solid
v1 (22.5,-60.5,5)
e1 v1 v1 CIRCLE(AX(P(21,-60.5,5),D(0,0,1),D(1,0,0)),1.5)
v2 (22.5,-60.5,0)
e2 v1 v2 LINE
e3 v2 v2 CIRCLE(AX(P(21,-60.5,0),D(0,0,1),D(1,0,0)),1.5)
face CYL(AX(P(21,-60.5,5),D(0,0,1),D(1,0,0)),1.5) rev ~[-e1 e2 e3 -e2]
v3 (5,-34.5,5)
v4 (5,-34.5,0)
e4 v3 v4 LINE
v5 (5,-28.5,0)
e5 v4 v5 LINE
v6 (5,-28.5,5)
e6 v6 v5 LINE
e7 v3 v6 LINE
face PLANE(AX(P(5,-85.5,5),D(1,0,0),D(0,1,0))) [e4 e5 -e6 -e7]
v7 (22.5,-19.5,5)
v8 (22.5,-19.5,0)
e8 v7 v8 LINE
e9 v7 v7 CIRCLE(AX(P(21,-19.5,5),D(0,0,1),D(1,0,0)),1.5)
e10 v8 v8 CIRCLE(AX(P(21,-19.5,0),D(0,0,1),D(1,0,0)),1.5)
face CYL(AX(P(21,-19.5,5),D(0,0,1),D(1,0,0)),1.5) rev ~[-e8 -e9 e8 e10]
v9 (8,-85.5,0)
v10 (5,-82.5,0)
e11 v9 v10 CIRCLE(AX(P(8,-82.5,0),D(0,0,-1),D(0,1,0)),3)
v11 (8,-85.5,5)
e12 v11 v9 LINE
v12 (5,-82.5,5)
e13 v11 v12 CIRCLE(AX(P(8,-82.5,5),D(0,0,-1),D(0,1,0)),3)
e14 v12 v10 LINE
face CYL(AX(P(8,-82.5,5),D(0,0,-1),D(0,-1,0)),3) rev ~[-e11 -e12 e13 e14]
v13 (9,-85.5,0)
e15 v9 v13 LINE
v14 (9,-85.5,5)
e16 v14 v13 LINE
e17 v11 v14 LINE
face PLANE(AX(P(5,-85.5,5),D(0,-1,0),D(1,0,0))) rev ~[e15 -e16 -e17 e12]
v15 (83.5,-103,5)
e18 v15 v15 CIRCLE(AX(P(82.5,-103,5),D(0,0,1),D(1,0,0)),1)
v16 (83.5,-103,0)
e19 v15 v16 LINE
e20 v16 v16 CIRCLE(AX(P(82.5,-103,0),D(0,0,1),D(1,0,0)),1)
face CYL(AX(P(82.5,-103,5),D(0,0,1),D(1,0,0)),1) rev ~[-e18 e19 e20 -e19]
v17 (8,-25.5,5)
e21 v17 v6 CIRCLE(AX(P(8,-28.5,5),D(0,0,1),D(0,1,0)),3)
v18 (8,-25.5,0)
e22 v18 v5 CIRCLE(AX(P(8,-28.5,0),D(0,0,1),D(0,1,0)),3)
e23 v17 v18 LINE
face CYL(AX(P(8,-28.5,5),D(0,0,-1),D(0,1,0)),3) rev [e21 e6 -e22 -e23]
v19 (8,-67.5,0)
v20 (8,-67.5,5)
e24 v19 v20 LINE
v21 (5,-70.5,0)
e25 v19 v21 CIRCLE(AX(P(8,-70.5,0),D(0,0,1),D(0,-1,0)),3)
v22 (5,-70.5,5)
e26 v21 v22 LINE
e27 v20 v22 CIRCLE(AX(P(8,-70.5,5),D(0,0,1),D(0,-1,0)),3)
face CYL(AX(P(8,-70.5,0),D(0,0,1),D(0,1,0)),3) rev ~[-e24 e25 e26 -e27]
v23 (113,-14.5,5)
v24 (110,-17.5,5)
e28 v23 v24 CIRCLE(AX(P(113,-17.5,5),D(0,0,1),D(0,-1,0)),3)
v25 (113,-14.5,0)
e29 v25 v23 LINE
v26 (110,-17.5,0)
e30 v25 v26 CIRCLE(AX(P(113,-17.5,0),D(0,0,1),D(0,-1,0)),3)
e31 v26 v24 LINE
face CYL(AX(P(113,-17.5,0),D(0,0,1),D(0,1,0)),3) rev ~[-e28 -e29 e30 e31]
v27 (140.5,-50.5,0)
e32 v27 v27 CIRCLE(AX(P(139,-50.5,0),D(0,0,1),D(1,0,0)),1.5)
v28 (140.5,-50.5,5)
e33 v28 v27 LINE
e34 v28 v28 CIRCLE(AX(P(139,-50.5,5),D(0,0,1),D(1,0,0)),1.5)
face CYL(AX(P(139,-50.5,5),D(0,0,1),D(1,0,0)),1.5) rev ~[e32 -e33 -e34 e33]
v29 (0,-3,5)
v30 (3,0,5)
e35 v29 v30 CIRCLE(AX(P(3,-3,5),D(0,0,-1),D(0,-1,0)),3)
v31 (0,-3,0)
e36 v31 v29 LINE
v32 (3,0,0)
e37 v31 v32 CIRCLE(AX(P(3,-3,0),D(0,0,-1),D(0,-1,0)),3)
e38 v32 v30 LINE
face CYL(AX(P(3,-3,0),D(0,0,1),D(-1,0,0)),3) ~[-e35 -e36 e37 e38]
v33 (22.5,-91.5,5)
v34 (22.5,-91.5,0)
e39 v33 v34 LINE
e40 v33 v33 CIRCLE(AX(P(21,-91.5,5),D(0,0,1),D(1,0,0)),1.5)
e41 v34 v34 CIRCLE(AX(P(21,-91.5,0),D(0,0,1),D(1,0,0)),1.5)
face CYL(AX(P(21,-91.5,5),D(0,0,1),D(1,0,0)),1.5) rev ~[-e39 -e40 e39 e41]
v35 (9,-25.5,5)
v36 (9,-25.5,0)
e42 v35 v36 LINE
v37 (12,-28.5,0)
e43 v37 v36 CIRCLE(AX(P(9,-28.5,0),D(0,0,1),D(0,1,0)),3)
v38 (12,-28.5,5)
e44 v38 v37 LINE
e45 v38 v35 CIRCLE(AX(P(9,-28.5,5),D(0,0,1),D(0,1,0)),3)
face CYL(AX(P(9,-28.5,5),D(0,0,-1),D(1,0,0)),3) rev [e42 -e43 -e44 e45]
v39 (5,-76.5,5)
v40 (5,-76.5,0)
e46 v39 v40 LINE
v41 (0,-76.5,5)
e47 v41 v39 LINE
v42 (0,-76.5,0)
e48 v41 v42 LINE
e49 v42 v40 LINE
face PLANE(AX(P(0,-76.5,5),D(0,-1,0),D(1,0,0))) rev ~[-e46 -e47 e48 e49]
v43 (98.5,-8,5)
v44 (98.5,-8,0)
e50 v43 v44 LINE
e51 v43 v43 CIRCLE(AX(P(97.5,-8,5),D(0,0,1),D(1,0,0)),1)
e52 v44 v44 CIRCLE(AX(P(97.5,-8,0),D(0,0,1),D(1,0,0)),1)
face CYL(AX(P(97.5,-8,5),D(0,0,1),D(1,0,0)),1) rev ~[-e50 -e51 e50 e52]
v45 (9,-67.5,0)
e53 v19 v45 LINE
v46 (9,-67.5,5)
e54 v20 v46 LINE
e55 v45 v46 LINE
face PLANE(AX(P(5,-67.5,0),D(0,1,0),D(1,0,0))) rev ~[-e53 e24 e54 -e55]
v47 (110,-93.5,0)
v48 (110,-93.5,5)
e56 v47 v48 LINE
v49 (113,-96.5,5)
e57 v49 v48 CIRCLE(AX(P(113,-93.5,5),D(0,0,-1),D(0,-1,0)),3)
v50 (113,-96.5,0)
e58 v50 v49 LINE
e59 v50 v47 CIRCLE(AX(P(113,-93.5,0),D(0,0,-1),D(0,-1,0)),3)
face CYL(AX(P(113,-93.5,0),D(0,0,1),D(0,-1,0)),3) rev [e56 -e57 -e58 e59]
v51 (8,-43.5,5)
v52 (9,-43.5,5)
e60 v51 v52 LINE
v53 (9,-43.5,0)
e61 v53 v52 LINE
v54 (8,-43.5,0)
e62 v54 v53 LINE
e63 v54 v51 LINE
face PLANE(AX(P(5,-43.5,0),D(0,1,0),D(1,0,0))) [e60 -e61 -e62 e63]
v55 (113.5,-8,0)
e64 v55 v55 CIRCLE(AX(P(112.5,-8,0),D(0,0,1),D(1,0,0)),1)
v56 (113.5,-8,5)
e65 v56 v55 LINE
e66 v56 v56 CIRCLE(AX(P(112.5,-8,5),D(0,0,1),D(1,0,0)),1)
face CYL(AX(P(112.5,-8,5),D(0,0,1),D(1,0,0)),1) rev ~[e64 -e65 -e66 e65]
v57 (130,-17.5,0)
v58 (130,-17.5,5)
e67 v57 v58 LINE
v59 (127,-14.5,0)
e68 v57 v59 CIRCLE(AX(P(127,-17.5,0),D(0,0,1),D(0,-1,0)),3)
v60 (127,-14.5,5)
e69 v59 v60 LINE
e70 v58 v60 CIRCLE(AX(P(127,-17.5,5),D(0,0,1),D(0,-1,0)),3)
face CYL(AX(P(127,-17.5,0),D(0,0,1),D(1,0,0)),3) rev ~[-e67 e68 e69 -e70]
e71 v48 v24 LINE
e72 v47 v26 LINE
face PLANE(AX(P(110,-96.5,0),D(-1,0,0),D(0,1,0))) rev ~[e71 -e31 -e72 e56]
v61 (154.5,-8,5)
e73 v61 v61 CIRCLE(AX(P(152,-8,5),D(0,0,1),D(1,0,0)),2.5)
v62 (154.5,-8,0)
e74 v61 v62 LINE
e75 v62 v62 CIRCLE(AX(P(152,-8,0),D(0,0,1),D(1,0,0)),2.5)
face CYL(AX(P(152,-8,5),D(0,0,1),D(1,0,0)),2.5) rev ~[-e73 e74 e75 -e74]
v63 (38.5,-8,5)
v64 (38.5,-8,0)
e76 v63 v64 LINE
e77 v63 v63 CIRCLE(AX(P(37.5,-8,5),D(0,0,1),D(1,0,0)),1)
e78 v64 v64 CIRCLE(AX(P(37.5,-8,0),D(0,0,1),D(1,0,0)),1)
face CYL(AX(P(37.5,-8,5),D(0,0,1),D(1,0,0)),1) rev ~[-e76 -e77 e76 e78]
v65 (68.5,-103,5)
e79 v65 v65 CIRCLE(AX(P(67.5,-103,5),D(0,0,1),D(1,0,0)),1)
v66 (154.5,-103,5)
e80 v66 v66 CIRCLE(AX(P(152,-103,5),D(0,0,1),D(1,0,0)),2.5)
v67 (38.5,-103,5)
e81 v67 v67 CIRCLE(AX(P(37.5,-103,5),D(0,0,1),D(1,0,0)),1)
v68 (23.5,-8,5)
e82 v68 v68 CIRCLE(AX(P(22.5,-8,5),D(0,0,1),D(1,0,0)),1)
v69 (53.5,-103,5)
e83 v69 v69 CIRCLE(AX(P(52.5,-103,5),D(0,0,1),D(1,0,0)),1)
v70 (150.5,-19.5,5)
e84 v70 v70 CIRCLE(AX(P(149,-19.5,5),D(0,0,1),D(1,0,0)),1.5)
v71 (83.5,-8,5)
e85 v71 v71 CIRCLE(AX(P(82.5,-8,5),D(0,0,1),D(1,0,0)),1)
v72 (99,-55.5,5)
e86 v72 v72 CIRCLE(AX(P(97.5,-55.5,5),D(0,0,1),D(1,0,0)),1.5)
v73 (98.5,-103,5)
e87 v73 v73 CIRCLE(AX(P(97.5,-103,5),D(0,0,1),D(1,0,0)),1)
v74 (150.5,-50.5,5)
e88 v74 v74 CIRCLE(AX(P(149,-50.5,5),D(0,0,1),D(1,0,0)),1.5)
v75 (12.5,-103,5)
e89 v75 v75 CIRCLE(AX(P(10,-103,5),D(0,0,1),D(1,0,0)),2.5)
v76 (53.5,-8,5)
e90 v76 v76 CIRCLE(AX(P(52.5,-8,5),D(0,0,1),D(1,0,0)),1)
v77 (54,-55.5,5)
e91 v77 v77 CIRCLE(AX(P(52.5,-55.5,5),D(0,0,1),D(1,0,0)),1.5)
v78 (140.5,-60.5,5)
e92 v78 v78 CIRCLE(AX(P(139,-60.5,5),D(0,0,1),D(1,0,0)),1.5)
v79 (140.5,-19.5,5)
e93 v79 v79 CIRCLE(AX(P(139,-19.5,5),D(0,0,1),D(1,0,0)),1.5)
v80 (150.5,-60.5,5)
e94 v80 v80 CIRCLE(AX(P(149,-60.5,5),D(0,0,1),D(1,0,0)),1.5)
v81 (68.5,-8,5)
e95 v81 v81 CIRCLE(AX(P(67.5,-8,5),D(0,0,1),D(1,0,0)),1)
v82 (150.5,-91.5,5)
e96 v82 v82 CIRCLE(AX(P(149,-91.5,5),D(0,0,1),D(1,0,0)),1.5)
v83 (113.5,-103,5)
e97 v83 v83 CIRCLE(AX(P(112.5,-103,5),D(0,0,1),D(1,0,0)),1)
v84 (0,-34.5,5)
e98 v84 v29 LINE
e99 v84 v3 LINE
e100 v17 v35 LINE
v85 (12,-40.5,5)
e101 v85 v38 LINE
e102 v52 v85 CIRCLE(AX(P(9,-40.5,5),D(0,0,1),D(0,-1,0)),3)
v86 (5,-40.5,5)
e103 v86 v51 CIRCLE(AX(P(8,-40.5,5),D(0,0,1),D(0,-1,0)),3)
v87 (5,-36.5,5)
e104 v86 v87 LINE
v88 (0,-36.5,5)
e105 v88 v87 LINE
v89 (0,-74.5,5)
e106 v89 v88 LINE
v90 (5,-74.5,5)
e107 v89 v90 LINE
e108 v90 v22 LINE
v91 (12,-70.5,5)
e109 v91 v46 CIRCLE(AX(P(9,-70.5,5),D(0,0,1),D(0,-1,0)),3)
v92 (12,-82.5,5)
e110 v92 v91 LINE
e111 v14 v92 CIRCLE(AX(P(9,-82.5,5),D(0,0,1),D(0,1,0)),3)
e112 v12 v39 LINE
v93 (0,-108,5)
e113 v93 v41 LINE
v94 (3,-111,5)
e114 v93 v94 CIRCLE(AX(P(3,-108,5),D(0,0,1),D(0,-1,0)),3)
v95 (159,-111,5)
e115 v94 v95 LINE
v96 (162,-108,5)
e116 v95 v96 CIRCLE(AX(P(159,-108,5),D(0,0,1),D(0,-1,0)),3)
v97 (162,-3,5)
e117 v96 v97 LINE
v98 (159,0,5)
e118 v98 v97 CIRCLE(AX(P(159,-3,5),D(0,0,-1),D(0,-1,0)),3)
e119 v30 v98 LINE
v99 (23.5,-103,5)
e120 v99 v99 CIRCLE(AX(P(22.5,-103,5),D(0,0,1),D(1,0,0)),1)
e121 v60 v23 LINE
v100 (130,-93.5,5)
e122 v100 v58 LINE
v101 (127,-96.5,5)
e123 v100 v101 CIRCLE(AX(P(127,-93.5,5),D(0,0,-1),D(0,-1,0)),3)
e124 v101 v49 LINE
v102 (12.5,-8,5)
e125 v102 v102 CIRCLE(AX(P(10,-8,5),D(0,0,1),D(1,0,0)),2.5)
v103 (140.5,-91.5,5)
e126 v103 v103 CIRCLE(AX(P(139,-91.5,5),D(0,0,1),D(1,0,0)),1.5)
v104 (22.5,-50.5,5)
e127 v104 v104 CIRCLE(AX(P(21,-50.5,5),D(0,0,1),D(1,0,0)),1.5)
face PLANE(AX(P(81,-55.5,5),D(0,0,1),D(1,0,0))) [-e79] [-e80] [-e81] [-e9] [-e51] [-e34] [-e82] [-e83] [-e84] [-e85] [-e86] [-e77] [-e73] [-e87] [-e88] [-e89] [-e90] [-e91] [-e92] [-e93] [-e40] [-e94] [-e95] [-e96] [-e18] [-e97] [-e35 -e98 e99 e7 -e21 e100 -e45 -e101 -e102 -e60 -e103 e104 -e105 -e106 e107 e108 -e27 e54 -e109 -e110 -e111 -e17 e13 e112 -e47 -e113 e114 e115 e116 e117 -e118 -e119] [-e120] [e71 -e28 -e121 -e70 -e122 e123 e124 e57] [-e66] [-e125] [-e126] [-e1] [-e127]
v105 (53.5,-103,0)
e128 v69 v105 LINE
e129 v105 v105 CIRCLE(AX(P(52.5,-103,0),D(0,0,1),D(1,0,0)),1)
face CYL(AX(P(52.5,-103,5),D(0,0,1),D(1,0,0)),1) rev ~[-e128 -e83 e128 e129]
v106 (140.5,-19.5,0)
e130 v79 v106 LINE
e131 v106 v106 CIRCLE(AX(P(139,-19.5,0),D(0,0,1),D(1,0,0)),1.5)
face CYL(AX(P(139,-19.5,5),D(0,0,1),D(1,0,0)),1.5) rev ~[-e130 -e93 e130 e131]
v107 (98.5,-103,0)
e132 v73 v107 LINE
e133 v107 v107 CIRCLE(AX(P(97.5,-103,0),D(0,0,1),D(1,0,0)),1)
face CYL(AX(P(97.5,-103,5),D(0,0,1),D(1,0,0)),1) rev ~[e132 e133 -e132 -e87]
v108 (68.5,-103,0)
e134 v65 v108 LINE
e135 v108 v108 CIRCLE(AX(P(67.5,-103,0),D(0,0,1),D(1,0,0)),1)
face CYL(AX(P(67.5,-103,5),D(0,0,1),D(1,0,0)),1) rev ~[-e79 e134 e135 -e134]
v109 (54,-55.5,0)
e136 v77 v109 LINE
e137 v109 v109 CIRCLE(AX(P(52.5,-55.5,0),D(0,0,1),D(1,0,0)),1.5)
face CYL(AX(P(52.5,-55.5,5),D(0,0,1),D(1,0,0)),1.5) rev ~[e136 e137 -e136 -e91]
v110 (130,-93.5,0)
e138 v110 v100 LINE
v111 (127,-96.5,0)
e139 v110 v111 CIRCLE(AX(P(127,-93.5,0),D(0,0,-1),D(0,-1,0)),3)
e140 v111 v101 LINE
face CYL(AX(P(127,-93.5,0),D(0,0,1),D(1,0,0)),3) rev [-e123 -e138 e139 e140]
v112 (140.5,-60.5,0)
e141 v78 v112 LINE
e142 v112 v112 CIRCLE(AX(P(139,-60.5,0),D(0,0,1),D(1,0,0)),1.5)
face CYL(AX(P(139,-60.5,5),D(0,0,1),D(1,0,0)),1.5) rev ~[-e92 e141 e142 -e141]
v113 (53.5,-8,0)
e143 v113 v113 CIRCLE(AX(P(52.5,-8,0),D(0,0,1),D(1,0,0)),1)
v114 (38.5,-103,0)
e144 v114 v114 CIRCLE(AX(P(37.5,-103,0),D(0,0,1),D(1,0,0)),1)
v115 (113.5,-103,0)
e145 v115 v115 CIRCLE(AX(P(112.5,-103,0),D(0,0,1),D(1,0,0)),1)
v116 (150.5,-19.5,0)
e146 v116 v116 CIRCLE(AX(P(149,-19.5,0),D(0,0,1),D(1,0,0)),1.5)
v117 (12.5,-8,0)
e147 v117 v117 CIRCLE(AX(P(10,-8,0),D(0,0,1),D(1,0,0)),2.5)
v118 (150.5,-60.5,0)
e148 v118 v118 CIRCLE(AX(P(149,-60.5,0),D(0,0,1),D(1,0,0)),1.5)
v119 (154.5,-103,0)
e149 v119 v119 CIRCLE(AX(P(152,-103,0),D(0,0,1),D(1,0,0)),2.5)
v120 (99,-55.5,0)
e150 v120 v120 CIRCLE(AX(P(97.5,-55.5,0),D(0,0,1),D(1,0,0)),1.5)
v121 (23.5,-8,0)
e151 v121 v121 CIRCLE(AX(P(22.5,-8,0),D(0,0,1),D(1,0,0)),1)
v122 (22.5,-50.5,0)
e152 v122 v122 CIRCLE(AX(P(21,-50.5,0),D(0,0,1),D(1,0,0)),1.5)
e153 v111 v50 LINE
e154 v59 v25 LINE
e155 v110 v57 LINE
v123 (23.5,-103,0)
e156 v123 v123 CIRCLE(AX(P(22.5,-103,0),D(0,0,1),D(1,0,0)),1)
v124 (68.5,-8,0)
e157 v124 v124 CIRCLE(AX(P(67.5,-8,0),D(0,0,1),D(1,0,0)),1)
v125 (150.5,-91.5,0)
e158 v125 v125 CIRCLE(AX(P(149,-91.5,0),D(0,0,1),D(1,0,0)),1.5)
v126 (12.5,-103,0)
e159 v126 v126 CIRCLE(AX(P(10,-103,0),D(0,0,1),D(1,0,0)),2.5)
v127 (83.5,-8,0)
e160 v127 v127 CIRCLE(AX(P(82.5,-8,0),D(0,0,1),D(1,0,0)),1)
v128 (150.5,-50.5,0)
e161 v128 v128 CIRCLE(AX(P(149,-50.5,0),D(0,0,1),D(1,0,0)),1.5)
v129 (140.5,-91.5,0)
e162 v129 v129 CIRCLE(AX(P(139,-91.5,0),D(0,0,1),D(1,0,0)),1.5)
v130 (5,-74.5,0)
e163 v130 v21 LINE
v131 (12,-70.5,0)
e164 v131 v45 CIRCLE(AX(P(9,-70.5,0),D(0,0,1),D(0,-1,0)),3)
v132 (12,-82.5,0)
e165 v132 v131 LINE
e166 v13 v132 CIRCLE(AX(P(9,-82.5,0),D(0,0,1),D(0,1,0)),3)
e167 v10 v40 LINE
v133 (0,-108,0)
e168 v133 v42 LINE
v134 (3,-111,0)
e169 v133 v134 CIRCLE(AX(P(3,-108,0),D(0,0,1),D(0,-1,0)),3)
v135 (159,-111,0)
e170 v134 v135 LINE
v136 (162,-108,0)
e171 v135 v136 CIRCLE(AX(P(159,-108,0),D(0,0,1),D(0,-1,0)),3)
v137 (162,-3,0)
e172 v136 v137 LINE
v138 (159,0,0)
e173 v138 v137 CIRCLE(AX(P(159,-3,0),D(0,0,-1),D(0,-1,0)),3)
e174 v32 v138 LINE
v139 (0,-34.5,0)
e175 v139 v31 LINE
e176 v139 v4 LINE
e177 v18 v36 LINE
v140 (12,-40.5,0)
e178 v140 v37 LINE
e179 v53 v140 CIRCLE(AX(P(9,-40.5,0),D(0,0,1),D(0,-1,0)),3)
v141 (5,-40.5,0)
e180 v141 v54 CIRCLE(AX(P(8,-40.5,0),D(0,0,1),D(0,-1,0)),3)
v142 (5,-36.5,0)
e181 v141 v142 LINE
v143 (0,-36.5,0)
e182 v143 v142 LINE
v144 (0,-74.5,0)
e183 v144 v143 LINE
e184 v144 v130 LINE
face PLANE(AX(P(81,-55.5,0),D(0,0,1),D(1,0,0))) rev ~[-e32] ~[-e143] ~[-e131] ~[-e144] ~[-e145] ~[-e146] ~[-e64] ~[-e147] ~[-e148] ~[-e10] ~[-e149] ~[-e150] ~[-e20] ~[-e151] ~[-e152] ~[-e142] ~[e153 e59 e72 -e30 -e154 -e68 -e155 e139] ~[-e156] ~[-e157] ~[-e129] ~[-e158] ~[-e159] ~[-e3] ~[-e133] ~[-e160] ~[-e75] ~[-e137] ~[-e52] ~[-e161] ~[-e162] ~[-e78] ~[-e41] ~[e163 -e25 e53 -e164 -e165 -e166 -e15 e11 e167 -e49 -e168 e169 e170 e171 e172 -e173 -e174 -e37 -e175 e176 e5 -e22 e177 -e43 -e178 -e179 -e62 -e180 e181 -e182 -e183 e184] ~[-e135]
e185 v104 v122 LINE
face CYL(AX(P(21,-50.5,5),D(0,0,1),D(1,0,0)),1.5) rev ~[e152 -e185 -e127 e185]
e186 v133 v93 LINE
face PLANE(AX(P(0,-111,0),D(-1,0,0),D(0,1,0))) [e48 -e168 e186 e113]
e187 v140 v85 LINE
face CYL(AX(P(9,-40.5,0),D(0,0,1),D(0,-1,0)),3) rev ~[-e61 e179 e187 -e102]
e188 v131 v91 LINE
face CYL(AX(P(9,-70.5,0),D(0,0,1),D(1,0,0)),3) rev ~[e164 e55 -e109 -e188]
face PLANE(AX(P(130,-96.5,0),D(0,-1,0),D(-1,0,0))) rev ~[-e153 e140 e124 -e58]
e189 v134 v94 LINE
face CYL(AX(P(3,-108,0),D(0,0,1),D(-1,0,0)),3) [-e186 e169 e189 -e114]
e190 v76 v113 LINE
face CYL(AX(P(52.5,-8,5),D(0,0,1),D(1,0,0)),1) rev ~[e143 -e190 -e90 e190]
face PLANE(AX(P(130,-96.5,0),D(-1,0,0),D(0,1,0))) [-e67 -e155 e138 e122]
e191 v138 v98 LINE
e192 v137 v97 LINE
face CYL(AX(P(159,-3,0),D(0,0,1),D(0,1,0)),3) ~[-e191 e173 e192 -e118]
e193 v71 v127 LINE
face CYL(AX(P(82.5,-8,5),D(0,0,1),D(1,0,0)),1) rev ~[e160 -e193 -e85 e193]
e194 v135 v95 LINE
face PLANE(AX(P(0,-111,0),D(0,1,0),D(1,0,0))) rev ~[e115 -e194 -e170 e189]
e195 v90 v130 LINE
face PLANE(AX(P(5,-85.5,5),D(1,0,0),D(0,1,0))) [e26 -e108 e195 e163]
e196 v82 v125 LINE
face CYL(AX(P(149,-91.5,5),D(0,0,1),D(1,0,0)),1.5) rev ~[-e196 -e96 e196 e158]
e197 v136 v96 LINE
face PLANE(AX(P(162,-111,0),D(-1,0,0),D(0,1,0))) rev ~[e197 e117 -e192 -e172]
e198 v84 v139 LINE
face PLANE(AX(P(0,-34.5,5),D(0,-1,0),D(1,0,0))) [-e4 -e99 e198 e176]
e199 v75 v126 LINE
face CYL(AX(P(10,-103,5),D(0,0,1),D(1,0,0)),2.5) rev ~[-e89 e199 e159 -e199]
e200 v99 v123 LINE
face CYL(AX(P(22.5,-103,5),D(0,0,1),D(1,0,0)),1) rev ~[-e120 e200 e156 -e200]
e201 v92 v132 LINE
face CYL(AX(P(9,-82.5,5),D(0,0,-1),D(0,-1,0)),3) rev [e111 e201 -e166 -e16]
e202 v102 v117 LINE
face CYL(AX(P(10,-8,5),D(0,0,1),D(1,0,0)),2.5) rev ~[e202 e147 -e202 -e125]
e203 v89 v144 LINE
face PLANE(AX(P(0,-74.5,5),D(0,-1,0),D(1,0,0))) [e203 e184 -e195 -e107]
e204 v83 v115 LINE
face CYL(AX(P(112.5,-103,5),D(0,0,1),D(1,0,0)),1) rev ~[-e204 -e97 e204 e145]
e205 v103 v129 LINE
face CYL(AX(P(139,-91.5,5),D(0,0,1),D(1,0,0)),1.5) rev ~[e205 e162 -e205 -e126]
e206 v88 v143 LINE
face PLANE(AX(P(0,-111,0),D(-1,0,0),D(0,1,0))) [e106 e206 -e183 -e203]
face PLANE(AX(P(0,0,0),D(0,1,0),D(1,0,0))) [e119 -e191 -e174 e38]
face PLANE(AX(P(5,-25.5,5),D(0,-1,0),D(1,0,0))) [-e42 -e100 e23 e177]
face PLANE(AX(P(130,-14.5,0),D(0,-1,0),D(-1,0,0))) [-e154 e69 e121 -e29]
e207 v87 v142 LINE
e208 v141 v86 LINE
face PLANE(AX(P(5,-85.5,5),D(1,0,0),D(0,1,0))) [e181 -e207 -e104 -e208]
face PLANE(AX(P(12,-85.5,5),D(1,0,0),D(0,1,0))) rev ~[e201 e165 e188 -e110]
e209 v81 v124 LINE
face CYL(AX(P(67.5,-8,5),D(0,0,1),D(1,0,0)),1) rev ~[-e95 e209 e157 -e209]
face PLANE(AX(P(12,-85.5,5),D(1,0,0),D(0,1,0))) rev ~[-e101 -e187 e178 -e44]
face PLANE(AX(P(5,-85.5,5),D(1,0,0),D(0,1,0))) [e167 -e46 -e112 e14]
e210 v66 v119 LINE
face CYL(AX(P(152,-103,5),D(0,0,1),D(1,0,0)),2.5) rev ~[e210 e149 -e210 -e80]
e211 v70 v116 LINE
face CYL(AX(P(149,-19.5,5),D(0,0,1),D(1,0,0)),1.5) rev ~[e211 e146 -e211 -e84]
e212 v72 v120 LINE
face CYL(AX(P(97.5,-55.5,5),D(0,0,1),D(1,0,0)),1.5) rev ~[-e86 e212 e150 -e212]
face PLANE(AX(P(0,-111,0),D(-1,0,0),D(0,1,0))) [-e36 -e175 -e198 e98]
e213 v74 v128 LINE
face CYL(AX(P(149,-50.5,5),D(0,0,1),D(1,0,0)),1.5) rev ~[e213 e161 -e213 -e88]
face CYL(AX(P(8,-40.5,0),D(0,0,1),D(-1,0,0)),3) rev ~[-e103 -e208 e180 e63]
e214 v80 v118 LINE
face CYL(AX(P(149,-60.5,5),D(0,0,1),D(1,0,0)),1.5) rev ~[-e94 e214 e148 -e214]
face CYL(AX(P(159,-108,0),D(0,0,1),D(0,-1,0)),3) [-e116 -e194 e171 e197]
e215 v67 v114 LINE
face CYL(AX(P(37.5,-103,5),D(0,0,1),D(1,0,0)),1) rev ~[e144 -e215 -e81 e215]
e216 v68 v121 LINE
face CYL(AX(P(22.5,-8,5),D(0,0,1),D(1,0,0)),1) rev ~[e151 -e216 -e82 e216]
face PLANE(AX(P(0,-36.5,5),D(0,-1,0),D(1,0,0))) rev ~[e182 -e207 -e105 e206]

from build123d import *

# Parameters (mm, degrees)
SKETCH_1_W          = 162
SKETCH_1_H          = 111
EXTRUDE_1_DEPTH     = 5
CUT_EXTRUDE_1_REACH = 198.443
SKETCH_2_W          = 20
SKETCH_2_H          = 82
SKETCH_3_R          = 1.5
SKETCH_3_R_2        = 1
SKETCH_3_R_3        = 2.5
SKETCH_3_W          = 7
SKETCH_3_H          = 60
CUT_EXTRUDE_2_DEPTH = 5
FILLET_1_R          = 3
CUT_EXTRUDE_3_REACH = 198.443
SKETCH_4_R          = 1
SKETCH2_W           = 7
SKETCH2_H           = 24
BOSS_EXTRUDE2_DEPTH = 5
SKETCH3_W           = 5
SKETCH3_H           = 2
CUT_EXTRUDE1_DEPTH  = 197.443376065
FILLET1_R           = 3


with BuildPart() as part:
    # 草图1 → 凸台-拉伸1 (new body)
    with BuildSketch(Plane.XY):
        with Locations((81, -55.5)):
            Rectangle(SKETCH_1_W, SKETCH_1_H)
    extrude(amount=EXTRUDE_1_DEPTH)

    # 草图2 → 切除-拉伸1 (cut, up to next)
    with BuildSketch(Plane(origin=(0, 0, 0), x_dir=(-1, 0, 0), z_dir=(0, 0, -1)), mode=Mode.PRIVATE) as cut_extrude_1_sk1:
        with Locations((-120, -55.5)):
            Rectangle(SKETCH_2_W, SKETCH_2_H)
    cut_extrude_1_tool1 = extrude(cut_extrude_1_sk1.sketch, amount=-CUT_EXTRUDE_1_REACH, mode=Mode.PRIVATE) & part.part
    add(cut_extrude_1_tool1.solids().sort_by_distance((120, -55.5, 0))[0], mode=Mode.SUBTRACT)

    # 草图3 → 切除-拉伸2 (cut)
    with BuildSketch(Plane.XY.offset(5)):
        with Locations((149, -60.5)):
            Circle(SKETCH_3_R)
        with Locations((139, -60.5)):
            Circle(SKETCH_3_R)
        with Locations((149, -91.5)):
            Circle(SKETCH_3_R)
        with Locations((139, -91.5)):
            Circle(SKETCH_3_R)
        with Locations((149, -50.5)):
            Circle(SKETCH_3_R)
        with Locations((139, -50.5)):
            Circle(SKETCH_3_R)
        with Locations((22.5, -103)):
            Circle(SKETCH_3_R_2)
        with Locations((22.5, -8)):
            Circle(SKETCH_3_R_2)
        with Locations((21, -60.5)):
            Circle(SKETCH_3_R)
        with Locations((21, -91.5)):
            Circle(SKETCH_3_R)
        with Locations((21, -50.5)):
            Circle(SKETCH_3_R)
        with Locations((21, -19.5)):
            Circle(SKETCH_3_R)
        with Locations((10, -8)):
            Circle(SKETCH_3_R_3)
        with Locations((152, -8)):
            Circle(SKETCH_3_R_3)
        with Locations((152, -103)):
            Circle(SKETCH_3_R_3)
        with Locations((10, -103)):
            Circle(SKETCH_3_R_3)
        with Locations((37.5, -103)):
            Circle(SKETCH_3_R_2)
        with Locations((52.5, -103)):
            Circle(SKETCH_3_R_2)
        with Locations((67.5, -103)):
            Circle(SKETCH_3_R_2)
        with Locations((82.5, -103)):
            Circle(SKETCH_3_R_2)
        with Locations((97.5, -103)):
            Circle(SKETCH_3_R_2)
        with Locations((37.5, -8)):
            Circle(SKETCH_3_R_2)
        with Locations((52.5, -8)):
            Circle(SKETCH_3_R_2)
        with Locations((67.5, -8)):
            Circle(SKETCH_3_R_2)
        with Locations((82.5, -8)):
            Circle(SKETCH_3_R_2)
        with Locations((97.5, -8)):
            Circle(SKETCH_3_R_2)
        with Locations((112.5, -8)):
            Circle(SKETCH_3_R_2)
        with Locations((139, -19.5)):
            Circle(SKETCH_3_R)
        with Locations((149, -19.5)):
            Circle(SKETCH_3_R)
        with Locations((112.5, -103)):
            Circle(SKETCH_3_R_2)
        with Locations((52.5, -55.5)):
            Circle(SKETCH_3_R)
        with Locations((97.5, -55.5)):
            Circle(SKETCH_3_R)
        with Locations((8.5, -55.5)):
            Rectangle(SKETCH_3_W, SKETCH_3_H)
    extrude(amount=-CUT_EXTRUDE_2_DEPTH, mode=Mode.SUBTRACT)

    # 圆角1
    fillet_1_edges = [part.edges().sort_by_distance(p)[0] for p in [
        (5, -25.5, 2.5),
        (12, -25.5, 2.5),
        (12, -85.5, 2.5),
        (5, -85.5, 2.5),
        (110, -96.5, 2.5),
        (130, -96.5, 2.5),
        (130, -14.5, 2.5),
        (110, -14.5, 2.5),
        (0, 0, 2.5),
        (162, 0, 2.5),
        (162, -111, 2.5),
        (0, -111, 2.5),
    ]]
    fillet(fillet_1_edges, radius=FILLET_1_R)

    # 草图4 → 切除-拉伸3 (cut, up to next)
    with BuildSketch(Plane.ZY, mode=Mode.PRIVATE) as cut_extrude_3_sk1:
        with Locations(Location((2.5, -35.5, 0), (0, 0, 270))):
            Circle(SKETCH_4_R)
    cut_extrude_3_tool1 = extrude(cut_extrude_3_sk1.sketch, amount=-CUT_EXTRUDE_3_REACH, mode=Mode.PRIVATE) & part.part
    # 草图4 → 切除-拉伸3 (cut, up to next)
    with BuildSketch(Plane.ZY, mode=Mode.PRIVATE) as cut_extrude_3_sk2:
        with Locations(Location((2.5, -75.5, 0), (0, 0, 270))):
            Circle(SKETCH_4_R)
    cut_extrude_3_tool2 = extrude(cut_extrude_3_sk2.sketch, amount=-CUT_EXTRUDE_3_REACH, mode=Mode.PRIVATE) & part.part
    add(cut_extrude_3_tool1.solids().sort_by_distance((0, -35.5, 2.5))[0], mode=Mode.SUBTRACT)
    add(cut_extrude_3_tool2.solids().sort_by_distance((0, -75.5, 2.5))[0], mode=Mode.SUBTRACT)

    # Sketch2 → Boss-Extrude2 (add)
    with BuildSketch(Plane.XY):
        with Locations((8.5, -55.5)):
            Rectangle(SKETCH2_W, SKETCH2_H)
    extrude(amount=BOSS_EXTRUDE2_DEPTH)

    # Sketch3 → Cut-Extrude1 (cut, through all)
    with BuildSketch(Plane.XY.offset(5)):
        with Locations((2.5, -35.5)):
            Rectangle(SKETCH3_W, SKETCH3_H)
        with Locations((2.5, -75.5)):
            Rectangle(SKETCH3_W, SKETCH3_H)
    extrude(amount=-CUT_EXTRUDE1_DEPTH, mode=Mode.SUBTRACT)

    # Fillet1
    fillet1_edges = [part.edges().sort_by_distance(p)[0] for p in [
        (5, -67.5, 2.5),
        (12, -67.5, 2.5),
        (12, -43.5, 2.5),
        (5, -43.5, 2.5),
    ]]
    fillet(fillet1_edges, radius=FILLET1_R)


solid = part.part
